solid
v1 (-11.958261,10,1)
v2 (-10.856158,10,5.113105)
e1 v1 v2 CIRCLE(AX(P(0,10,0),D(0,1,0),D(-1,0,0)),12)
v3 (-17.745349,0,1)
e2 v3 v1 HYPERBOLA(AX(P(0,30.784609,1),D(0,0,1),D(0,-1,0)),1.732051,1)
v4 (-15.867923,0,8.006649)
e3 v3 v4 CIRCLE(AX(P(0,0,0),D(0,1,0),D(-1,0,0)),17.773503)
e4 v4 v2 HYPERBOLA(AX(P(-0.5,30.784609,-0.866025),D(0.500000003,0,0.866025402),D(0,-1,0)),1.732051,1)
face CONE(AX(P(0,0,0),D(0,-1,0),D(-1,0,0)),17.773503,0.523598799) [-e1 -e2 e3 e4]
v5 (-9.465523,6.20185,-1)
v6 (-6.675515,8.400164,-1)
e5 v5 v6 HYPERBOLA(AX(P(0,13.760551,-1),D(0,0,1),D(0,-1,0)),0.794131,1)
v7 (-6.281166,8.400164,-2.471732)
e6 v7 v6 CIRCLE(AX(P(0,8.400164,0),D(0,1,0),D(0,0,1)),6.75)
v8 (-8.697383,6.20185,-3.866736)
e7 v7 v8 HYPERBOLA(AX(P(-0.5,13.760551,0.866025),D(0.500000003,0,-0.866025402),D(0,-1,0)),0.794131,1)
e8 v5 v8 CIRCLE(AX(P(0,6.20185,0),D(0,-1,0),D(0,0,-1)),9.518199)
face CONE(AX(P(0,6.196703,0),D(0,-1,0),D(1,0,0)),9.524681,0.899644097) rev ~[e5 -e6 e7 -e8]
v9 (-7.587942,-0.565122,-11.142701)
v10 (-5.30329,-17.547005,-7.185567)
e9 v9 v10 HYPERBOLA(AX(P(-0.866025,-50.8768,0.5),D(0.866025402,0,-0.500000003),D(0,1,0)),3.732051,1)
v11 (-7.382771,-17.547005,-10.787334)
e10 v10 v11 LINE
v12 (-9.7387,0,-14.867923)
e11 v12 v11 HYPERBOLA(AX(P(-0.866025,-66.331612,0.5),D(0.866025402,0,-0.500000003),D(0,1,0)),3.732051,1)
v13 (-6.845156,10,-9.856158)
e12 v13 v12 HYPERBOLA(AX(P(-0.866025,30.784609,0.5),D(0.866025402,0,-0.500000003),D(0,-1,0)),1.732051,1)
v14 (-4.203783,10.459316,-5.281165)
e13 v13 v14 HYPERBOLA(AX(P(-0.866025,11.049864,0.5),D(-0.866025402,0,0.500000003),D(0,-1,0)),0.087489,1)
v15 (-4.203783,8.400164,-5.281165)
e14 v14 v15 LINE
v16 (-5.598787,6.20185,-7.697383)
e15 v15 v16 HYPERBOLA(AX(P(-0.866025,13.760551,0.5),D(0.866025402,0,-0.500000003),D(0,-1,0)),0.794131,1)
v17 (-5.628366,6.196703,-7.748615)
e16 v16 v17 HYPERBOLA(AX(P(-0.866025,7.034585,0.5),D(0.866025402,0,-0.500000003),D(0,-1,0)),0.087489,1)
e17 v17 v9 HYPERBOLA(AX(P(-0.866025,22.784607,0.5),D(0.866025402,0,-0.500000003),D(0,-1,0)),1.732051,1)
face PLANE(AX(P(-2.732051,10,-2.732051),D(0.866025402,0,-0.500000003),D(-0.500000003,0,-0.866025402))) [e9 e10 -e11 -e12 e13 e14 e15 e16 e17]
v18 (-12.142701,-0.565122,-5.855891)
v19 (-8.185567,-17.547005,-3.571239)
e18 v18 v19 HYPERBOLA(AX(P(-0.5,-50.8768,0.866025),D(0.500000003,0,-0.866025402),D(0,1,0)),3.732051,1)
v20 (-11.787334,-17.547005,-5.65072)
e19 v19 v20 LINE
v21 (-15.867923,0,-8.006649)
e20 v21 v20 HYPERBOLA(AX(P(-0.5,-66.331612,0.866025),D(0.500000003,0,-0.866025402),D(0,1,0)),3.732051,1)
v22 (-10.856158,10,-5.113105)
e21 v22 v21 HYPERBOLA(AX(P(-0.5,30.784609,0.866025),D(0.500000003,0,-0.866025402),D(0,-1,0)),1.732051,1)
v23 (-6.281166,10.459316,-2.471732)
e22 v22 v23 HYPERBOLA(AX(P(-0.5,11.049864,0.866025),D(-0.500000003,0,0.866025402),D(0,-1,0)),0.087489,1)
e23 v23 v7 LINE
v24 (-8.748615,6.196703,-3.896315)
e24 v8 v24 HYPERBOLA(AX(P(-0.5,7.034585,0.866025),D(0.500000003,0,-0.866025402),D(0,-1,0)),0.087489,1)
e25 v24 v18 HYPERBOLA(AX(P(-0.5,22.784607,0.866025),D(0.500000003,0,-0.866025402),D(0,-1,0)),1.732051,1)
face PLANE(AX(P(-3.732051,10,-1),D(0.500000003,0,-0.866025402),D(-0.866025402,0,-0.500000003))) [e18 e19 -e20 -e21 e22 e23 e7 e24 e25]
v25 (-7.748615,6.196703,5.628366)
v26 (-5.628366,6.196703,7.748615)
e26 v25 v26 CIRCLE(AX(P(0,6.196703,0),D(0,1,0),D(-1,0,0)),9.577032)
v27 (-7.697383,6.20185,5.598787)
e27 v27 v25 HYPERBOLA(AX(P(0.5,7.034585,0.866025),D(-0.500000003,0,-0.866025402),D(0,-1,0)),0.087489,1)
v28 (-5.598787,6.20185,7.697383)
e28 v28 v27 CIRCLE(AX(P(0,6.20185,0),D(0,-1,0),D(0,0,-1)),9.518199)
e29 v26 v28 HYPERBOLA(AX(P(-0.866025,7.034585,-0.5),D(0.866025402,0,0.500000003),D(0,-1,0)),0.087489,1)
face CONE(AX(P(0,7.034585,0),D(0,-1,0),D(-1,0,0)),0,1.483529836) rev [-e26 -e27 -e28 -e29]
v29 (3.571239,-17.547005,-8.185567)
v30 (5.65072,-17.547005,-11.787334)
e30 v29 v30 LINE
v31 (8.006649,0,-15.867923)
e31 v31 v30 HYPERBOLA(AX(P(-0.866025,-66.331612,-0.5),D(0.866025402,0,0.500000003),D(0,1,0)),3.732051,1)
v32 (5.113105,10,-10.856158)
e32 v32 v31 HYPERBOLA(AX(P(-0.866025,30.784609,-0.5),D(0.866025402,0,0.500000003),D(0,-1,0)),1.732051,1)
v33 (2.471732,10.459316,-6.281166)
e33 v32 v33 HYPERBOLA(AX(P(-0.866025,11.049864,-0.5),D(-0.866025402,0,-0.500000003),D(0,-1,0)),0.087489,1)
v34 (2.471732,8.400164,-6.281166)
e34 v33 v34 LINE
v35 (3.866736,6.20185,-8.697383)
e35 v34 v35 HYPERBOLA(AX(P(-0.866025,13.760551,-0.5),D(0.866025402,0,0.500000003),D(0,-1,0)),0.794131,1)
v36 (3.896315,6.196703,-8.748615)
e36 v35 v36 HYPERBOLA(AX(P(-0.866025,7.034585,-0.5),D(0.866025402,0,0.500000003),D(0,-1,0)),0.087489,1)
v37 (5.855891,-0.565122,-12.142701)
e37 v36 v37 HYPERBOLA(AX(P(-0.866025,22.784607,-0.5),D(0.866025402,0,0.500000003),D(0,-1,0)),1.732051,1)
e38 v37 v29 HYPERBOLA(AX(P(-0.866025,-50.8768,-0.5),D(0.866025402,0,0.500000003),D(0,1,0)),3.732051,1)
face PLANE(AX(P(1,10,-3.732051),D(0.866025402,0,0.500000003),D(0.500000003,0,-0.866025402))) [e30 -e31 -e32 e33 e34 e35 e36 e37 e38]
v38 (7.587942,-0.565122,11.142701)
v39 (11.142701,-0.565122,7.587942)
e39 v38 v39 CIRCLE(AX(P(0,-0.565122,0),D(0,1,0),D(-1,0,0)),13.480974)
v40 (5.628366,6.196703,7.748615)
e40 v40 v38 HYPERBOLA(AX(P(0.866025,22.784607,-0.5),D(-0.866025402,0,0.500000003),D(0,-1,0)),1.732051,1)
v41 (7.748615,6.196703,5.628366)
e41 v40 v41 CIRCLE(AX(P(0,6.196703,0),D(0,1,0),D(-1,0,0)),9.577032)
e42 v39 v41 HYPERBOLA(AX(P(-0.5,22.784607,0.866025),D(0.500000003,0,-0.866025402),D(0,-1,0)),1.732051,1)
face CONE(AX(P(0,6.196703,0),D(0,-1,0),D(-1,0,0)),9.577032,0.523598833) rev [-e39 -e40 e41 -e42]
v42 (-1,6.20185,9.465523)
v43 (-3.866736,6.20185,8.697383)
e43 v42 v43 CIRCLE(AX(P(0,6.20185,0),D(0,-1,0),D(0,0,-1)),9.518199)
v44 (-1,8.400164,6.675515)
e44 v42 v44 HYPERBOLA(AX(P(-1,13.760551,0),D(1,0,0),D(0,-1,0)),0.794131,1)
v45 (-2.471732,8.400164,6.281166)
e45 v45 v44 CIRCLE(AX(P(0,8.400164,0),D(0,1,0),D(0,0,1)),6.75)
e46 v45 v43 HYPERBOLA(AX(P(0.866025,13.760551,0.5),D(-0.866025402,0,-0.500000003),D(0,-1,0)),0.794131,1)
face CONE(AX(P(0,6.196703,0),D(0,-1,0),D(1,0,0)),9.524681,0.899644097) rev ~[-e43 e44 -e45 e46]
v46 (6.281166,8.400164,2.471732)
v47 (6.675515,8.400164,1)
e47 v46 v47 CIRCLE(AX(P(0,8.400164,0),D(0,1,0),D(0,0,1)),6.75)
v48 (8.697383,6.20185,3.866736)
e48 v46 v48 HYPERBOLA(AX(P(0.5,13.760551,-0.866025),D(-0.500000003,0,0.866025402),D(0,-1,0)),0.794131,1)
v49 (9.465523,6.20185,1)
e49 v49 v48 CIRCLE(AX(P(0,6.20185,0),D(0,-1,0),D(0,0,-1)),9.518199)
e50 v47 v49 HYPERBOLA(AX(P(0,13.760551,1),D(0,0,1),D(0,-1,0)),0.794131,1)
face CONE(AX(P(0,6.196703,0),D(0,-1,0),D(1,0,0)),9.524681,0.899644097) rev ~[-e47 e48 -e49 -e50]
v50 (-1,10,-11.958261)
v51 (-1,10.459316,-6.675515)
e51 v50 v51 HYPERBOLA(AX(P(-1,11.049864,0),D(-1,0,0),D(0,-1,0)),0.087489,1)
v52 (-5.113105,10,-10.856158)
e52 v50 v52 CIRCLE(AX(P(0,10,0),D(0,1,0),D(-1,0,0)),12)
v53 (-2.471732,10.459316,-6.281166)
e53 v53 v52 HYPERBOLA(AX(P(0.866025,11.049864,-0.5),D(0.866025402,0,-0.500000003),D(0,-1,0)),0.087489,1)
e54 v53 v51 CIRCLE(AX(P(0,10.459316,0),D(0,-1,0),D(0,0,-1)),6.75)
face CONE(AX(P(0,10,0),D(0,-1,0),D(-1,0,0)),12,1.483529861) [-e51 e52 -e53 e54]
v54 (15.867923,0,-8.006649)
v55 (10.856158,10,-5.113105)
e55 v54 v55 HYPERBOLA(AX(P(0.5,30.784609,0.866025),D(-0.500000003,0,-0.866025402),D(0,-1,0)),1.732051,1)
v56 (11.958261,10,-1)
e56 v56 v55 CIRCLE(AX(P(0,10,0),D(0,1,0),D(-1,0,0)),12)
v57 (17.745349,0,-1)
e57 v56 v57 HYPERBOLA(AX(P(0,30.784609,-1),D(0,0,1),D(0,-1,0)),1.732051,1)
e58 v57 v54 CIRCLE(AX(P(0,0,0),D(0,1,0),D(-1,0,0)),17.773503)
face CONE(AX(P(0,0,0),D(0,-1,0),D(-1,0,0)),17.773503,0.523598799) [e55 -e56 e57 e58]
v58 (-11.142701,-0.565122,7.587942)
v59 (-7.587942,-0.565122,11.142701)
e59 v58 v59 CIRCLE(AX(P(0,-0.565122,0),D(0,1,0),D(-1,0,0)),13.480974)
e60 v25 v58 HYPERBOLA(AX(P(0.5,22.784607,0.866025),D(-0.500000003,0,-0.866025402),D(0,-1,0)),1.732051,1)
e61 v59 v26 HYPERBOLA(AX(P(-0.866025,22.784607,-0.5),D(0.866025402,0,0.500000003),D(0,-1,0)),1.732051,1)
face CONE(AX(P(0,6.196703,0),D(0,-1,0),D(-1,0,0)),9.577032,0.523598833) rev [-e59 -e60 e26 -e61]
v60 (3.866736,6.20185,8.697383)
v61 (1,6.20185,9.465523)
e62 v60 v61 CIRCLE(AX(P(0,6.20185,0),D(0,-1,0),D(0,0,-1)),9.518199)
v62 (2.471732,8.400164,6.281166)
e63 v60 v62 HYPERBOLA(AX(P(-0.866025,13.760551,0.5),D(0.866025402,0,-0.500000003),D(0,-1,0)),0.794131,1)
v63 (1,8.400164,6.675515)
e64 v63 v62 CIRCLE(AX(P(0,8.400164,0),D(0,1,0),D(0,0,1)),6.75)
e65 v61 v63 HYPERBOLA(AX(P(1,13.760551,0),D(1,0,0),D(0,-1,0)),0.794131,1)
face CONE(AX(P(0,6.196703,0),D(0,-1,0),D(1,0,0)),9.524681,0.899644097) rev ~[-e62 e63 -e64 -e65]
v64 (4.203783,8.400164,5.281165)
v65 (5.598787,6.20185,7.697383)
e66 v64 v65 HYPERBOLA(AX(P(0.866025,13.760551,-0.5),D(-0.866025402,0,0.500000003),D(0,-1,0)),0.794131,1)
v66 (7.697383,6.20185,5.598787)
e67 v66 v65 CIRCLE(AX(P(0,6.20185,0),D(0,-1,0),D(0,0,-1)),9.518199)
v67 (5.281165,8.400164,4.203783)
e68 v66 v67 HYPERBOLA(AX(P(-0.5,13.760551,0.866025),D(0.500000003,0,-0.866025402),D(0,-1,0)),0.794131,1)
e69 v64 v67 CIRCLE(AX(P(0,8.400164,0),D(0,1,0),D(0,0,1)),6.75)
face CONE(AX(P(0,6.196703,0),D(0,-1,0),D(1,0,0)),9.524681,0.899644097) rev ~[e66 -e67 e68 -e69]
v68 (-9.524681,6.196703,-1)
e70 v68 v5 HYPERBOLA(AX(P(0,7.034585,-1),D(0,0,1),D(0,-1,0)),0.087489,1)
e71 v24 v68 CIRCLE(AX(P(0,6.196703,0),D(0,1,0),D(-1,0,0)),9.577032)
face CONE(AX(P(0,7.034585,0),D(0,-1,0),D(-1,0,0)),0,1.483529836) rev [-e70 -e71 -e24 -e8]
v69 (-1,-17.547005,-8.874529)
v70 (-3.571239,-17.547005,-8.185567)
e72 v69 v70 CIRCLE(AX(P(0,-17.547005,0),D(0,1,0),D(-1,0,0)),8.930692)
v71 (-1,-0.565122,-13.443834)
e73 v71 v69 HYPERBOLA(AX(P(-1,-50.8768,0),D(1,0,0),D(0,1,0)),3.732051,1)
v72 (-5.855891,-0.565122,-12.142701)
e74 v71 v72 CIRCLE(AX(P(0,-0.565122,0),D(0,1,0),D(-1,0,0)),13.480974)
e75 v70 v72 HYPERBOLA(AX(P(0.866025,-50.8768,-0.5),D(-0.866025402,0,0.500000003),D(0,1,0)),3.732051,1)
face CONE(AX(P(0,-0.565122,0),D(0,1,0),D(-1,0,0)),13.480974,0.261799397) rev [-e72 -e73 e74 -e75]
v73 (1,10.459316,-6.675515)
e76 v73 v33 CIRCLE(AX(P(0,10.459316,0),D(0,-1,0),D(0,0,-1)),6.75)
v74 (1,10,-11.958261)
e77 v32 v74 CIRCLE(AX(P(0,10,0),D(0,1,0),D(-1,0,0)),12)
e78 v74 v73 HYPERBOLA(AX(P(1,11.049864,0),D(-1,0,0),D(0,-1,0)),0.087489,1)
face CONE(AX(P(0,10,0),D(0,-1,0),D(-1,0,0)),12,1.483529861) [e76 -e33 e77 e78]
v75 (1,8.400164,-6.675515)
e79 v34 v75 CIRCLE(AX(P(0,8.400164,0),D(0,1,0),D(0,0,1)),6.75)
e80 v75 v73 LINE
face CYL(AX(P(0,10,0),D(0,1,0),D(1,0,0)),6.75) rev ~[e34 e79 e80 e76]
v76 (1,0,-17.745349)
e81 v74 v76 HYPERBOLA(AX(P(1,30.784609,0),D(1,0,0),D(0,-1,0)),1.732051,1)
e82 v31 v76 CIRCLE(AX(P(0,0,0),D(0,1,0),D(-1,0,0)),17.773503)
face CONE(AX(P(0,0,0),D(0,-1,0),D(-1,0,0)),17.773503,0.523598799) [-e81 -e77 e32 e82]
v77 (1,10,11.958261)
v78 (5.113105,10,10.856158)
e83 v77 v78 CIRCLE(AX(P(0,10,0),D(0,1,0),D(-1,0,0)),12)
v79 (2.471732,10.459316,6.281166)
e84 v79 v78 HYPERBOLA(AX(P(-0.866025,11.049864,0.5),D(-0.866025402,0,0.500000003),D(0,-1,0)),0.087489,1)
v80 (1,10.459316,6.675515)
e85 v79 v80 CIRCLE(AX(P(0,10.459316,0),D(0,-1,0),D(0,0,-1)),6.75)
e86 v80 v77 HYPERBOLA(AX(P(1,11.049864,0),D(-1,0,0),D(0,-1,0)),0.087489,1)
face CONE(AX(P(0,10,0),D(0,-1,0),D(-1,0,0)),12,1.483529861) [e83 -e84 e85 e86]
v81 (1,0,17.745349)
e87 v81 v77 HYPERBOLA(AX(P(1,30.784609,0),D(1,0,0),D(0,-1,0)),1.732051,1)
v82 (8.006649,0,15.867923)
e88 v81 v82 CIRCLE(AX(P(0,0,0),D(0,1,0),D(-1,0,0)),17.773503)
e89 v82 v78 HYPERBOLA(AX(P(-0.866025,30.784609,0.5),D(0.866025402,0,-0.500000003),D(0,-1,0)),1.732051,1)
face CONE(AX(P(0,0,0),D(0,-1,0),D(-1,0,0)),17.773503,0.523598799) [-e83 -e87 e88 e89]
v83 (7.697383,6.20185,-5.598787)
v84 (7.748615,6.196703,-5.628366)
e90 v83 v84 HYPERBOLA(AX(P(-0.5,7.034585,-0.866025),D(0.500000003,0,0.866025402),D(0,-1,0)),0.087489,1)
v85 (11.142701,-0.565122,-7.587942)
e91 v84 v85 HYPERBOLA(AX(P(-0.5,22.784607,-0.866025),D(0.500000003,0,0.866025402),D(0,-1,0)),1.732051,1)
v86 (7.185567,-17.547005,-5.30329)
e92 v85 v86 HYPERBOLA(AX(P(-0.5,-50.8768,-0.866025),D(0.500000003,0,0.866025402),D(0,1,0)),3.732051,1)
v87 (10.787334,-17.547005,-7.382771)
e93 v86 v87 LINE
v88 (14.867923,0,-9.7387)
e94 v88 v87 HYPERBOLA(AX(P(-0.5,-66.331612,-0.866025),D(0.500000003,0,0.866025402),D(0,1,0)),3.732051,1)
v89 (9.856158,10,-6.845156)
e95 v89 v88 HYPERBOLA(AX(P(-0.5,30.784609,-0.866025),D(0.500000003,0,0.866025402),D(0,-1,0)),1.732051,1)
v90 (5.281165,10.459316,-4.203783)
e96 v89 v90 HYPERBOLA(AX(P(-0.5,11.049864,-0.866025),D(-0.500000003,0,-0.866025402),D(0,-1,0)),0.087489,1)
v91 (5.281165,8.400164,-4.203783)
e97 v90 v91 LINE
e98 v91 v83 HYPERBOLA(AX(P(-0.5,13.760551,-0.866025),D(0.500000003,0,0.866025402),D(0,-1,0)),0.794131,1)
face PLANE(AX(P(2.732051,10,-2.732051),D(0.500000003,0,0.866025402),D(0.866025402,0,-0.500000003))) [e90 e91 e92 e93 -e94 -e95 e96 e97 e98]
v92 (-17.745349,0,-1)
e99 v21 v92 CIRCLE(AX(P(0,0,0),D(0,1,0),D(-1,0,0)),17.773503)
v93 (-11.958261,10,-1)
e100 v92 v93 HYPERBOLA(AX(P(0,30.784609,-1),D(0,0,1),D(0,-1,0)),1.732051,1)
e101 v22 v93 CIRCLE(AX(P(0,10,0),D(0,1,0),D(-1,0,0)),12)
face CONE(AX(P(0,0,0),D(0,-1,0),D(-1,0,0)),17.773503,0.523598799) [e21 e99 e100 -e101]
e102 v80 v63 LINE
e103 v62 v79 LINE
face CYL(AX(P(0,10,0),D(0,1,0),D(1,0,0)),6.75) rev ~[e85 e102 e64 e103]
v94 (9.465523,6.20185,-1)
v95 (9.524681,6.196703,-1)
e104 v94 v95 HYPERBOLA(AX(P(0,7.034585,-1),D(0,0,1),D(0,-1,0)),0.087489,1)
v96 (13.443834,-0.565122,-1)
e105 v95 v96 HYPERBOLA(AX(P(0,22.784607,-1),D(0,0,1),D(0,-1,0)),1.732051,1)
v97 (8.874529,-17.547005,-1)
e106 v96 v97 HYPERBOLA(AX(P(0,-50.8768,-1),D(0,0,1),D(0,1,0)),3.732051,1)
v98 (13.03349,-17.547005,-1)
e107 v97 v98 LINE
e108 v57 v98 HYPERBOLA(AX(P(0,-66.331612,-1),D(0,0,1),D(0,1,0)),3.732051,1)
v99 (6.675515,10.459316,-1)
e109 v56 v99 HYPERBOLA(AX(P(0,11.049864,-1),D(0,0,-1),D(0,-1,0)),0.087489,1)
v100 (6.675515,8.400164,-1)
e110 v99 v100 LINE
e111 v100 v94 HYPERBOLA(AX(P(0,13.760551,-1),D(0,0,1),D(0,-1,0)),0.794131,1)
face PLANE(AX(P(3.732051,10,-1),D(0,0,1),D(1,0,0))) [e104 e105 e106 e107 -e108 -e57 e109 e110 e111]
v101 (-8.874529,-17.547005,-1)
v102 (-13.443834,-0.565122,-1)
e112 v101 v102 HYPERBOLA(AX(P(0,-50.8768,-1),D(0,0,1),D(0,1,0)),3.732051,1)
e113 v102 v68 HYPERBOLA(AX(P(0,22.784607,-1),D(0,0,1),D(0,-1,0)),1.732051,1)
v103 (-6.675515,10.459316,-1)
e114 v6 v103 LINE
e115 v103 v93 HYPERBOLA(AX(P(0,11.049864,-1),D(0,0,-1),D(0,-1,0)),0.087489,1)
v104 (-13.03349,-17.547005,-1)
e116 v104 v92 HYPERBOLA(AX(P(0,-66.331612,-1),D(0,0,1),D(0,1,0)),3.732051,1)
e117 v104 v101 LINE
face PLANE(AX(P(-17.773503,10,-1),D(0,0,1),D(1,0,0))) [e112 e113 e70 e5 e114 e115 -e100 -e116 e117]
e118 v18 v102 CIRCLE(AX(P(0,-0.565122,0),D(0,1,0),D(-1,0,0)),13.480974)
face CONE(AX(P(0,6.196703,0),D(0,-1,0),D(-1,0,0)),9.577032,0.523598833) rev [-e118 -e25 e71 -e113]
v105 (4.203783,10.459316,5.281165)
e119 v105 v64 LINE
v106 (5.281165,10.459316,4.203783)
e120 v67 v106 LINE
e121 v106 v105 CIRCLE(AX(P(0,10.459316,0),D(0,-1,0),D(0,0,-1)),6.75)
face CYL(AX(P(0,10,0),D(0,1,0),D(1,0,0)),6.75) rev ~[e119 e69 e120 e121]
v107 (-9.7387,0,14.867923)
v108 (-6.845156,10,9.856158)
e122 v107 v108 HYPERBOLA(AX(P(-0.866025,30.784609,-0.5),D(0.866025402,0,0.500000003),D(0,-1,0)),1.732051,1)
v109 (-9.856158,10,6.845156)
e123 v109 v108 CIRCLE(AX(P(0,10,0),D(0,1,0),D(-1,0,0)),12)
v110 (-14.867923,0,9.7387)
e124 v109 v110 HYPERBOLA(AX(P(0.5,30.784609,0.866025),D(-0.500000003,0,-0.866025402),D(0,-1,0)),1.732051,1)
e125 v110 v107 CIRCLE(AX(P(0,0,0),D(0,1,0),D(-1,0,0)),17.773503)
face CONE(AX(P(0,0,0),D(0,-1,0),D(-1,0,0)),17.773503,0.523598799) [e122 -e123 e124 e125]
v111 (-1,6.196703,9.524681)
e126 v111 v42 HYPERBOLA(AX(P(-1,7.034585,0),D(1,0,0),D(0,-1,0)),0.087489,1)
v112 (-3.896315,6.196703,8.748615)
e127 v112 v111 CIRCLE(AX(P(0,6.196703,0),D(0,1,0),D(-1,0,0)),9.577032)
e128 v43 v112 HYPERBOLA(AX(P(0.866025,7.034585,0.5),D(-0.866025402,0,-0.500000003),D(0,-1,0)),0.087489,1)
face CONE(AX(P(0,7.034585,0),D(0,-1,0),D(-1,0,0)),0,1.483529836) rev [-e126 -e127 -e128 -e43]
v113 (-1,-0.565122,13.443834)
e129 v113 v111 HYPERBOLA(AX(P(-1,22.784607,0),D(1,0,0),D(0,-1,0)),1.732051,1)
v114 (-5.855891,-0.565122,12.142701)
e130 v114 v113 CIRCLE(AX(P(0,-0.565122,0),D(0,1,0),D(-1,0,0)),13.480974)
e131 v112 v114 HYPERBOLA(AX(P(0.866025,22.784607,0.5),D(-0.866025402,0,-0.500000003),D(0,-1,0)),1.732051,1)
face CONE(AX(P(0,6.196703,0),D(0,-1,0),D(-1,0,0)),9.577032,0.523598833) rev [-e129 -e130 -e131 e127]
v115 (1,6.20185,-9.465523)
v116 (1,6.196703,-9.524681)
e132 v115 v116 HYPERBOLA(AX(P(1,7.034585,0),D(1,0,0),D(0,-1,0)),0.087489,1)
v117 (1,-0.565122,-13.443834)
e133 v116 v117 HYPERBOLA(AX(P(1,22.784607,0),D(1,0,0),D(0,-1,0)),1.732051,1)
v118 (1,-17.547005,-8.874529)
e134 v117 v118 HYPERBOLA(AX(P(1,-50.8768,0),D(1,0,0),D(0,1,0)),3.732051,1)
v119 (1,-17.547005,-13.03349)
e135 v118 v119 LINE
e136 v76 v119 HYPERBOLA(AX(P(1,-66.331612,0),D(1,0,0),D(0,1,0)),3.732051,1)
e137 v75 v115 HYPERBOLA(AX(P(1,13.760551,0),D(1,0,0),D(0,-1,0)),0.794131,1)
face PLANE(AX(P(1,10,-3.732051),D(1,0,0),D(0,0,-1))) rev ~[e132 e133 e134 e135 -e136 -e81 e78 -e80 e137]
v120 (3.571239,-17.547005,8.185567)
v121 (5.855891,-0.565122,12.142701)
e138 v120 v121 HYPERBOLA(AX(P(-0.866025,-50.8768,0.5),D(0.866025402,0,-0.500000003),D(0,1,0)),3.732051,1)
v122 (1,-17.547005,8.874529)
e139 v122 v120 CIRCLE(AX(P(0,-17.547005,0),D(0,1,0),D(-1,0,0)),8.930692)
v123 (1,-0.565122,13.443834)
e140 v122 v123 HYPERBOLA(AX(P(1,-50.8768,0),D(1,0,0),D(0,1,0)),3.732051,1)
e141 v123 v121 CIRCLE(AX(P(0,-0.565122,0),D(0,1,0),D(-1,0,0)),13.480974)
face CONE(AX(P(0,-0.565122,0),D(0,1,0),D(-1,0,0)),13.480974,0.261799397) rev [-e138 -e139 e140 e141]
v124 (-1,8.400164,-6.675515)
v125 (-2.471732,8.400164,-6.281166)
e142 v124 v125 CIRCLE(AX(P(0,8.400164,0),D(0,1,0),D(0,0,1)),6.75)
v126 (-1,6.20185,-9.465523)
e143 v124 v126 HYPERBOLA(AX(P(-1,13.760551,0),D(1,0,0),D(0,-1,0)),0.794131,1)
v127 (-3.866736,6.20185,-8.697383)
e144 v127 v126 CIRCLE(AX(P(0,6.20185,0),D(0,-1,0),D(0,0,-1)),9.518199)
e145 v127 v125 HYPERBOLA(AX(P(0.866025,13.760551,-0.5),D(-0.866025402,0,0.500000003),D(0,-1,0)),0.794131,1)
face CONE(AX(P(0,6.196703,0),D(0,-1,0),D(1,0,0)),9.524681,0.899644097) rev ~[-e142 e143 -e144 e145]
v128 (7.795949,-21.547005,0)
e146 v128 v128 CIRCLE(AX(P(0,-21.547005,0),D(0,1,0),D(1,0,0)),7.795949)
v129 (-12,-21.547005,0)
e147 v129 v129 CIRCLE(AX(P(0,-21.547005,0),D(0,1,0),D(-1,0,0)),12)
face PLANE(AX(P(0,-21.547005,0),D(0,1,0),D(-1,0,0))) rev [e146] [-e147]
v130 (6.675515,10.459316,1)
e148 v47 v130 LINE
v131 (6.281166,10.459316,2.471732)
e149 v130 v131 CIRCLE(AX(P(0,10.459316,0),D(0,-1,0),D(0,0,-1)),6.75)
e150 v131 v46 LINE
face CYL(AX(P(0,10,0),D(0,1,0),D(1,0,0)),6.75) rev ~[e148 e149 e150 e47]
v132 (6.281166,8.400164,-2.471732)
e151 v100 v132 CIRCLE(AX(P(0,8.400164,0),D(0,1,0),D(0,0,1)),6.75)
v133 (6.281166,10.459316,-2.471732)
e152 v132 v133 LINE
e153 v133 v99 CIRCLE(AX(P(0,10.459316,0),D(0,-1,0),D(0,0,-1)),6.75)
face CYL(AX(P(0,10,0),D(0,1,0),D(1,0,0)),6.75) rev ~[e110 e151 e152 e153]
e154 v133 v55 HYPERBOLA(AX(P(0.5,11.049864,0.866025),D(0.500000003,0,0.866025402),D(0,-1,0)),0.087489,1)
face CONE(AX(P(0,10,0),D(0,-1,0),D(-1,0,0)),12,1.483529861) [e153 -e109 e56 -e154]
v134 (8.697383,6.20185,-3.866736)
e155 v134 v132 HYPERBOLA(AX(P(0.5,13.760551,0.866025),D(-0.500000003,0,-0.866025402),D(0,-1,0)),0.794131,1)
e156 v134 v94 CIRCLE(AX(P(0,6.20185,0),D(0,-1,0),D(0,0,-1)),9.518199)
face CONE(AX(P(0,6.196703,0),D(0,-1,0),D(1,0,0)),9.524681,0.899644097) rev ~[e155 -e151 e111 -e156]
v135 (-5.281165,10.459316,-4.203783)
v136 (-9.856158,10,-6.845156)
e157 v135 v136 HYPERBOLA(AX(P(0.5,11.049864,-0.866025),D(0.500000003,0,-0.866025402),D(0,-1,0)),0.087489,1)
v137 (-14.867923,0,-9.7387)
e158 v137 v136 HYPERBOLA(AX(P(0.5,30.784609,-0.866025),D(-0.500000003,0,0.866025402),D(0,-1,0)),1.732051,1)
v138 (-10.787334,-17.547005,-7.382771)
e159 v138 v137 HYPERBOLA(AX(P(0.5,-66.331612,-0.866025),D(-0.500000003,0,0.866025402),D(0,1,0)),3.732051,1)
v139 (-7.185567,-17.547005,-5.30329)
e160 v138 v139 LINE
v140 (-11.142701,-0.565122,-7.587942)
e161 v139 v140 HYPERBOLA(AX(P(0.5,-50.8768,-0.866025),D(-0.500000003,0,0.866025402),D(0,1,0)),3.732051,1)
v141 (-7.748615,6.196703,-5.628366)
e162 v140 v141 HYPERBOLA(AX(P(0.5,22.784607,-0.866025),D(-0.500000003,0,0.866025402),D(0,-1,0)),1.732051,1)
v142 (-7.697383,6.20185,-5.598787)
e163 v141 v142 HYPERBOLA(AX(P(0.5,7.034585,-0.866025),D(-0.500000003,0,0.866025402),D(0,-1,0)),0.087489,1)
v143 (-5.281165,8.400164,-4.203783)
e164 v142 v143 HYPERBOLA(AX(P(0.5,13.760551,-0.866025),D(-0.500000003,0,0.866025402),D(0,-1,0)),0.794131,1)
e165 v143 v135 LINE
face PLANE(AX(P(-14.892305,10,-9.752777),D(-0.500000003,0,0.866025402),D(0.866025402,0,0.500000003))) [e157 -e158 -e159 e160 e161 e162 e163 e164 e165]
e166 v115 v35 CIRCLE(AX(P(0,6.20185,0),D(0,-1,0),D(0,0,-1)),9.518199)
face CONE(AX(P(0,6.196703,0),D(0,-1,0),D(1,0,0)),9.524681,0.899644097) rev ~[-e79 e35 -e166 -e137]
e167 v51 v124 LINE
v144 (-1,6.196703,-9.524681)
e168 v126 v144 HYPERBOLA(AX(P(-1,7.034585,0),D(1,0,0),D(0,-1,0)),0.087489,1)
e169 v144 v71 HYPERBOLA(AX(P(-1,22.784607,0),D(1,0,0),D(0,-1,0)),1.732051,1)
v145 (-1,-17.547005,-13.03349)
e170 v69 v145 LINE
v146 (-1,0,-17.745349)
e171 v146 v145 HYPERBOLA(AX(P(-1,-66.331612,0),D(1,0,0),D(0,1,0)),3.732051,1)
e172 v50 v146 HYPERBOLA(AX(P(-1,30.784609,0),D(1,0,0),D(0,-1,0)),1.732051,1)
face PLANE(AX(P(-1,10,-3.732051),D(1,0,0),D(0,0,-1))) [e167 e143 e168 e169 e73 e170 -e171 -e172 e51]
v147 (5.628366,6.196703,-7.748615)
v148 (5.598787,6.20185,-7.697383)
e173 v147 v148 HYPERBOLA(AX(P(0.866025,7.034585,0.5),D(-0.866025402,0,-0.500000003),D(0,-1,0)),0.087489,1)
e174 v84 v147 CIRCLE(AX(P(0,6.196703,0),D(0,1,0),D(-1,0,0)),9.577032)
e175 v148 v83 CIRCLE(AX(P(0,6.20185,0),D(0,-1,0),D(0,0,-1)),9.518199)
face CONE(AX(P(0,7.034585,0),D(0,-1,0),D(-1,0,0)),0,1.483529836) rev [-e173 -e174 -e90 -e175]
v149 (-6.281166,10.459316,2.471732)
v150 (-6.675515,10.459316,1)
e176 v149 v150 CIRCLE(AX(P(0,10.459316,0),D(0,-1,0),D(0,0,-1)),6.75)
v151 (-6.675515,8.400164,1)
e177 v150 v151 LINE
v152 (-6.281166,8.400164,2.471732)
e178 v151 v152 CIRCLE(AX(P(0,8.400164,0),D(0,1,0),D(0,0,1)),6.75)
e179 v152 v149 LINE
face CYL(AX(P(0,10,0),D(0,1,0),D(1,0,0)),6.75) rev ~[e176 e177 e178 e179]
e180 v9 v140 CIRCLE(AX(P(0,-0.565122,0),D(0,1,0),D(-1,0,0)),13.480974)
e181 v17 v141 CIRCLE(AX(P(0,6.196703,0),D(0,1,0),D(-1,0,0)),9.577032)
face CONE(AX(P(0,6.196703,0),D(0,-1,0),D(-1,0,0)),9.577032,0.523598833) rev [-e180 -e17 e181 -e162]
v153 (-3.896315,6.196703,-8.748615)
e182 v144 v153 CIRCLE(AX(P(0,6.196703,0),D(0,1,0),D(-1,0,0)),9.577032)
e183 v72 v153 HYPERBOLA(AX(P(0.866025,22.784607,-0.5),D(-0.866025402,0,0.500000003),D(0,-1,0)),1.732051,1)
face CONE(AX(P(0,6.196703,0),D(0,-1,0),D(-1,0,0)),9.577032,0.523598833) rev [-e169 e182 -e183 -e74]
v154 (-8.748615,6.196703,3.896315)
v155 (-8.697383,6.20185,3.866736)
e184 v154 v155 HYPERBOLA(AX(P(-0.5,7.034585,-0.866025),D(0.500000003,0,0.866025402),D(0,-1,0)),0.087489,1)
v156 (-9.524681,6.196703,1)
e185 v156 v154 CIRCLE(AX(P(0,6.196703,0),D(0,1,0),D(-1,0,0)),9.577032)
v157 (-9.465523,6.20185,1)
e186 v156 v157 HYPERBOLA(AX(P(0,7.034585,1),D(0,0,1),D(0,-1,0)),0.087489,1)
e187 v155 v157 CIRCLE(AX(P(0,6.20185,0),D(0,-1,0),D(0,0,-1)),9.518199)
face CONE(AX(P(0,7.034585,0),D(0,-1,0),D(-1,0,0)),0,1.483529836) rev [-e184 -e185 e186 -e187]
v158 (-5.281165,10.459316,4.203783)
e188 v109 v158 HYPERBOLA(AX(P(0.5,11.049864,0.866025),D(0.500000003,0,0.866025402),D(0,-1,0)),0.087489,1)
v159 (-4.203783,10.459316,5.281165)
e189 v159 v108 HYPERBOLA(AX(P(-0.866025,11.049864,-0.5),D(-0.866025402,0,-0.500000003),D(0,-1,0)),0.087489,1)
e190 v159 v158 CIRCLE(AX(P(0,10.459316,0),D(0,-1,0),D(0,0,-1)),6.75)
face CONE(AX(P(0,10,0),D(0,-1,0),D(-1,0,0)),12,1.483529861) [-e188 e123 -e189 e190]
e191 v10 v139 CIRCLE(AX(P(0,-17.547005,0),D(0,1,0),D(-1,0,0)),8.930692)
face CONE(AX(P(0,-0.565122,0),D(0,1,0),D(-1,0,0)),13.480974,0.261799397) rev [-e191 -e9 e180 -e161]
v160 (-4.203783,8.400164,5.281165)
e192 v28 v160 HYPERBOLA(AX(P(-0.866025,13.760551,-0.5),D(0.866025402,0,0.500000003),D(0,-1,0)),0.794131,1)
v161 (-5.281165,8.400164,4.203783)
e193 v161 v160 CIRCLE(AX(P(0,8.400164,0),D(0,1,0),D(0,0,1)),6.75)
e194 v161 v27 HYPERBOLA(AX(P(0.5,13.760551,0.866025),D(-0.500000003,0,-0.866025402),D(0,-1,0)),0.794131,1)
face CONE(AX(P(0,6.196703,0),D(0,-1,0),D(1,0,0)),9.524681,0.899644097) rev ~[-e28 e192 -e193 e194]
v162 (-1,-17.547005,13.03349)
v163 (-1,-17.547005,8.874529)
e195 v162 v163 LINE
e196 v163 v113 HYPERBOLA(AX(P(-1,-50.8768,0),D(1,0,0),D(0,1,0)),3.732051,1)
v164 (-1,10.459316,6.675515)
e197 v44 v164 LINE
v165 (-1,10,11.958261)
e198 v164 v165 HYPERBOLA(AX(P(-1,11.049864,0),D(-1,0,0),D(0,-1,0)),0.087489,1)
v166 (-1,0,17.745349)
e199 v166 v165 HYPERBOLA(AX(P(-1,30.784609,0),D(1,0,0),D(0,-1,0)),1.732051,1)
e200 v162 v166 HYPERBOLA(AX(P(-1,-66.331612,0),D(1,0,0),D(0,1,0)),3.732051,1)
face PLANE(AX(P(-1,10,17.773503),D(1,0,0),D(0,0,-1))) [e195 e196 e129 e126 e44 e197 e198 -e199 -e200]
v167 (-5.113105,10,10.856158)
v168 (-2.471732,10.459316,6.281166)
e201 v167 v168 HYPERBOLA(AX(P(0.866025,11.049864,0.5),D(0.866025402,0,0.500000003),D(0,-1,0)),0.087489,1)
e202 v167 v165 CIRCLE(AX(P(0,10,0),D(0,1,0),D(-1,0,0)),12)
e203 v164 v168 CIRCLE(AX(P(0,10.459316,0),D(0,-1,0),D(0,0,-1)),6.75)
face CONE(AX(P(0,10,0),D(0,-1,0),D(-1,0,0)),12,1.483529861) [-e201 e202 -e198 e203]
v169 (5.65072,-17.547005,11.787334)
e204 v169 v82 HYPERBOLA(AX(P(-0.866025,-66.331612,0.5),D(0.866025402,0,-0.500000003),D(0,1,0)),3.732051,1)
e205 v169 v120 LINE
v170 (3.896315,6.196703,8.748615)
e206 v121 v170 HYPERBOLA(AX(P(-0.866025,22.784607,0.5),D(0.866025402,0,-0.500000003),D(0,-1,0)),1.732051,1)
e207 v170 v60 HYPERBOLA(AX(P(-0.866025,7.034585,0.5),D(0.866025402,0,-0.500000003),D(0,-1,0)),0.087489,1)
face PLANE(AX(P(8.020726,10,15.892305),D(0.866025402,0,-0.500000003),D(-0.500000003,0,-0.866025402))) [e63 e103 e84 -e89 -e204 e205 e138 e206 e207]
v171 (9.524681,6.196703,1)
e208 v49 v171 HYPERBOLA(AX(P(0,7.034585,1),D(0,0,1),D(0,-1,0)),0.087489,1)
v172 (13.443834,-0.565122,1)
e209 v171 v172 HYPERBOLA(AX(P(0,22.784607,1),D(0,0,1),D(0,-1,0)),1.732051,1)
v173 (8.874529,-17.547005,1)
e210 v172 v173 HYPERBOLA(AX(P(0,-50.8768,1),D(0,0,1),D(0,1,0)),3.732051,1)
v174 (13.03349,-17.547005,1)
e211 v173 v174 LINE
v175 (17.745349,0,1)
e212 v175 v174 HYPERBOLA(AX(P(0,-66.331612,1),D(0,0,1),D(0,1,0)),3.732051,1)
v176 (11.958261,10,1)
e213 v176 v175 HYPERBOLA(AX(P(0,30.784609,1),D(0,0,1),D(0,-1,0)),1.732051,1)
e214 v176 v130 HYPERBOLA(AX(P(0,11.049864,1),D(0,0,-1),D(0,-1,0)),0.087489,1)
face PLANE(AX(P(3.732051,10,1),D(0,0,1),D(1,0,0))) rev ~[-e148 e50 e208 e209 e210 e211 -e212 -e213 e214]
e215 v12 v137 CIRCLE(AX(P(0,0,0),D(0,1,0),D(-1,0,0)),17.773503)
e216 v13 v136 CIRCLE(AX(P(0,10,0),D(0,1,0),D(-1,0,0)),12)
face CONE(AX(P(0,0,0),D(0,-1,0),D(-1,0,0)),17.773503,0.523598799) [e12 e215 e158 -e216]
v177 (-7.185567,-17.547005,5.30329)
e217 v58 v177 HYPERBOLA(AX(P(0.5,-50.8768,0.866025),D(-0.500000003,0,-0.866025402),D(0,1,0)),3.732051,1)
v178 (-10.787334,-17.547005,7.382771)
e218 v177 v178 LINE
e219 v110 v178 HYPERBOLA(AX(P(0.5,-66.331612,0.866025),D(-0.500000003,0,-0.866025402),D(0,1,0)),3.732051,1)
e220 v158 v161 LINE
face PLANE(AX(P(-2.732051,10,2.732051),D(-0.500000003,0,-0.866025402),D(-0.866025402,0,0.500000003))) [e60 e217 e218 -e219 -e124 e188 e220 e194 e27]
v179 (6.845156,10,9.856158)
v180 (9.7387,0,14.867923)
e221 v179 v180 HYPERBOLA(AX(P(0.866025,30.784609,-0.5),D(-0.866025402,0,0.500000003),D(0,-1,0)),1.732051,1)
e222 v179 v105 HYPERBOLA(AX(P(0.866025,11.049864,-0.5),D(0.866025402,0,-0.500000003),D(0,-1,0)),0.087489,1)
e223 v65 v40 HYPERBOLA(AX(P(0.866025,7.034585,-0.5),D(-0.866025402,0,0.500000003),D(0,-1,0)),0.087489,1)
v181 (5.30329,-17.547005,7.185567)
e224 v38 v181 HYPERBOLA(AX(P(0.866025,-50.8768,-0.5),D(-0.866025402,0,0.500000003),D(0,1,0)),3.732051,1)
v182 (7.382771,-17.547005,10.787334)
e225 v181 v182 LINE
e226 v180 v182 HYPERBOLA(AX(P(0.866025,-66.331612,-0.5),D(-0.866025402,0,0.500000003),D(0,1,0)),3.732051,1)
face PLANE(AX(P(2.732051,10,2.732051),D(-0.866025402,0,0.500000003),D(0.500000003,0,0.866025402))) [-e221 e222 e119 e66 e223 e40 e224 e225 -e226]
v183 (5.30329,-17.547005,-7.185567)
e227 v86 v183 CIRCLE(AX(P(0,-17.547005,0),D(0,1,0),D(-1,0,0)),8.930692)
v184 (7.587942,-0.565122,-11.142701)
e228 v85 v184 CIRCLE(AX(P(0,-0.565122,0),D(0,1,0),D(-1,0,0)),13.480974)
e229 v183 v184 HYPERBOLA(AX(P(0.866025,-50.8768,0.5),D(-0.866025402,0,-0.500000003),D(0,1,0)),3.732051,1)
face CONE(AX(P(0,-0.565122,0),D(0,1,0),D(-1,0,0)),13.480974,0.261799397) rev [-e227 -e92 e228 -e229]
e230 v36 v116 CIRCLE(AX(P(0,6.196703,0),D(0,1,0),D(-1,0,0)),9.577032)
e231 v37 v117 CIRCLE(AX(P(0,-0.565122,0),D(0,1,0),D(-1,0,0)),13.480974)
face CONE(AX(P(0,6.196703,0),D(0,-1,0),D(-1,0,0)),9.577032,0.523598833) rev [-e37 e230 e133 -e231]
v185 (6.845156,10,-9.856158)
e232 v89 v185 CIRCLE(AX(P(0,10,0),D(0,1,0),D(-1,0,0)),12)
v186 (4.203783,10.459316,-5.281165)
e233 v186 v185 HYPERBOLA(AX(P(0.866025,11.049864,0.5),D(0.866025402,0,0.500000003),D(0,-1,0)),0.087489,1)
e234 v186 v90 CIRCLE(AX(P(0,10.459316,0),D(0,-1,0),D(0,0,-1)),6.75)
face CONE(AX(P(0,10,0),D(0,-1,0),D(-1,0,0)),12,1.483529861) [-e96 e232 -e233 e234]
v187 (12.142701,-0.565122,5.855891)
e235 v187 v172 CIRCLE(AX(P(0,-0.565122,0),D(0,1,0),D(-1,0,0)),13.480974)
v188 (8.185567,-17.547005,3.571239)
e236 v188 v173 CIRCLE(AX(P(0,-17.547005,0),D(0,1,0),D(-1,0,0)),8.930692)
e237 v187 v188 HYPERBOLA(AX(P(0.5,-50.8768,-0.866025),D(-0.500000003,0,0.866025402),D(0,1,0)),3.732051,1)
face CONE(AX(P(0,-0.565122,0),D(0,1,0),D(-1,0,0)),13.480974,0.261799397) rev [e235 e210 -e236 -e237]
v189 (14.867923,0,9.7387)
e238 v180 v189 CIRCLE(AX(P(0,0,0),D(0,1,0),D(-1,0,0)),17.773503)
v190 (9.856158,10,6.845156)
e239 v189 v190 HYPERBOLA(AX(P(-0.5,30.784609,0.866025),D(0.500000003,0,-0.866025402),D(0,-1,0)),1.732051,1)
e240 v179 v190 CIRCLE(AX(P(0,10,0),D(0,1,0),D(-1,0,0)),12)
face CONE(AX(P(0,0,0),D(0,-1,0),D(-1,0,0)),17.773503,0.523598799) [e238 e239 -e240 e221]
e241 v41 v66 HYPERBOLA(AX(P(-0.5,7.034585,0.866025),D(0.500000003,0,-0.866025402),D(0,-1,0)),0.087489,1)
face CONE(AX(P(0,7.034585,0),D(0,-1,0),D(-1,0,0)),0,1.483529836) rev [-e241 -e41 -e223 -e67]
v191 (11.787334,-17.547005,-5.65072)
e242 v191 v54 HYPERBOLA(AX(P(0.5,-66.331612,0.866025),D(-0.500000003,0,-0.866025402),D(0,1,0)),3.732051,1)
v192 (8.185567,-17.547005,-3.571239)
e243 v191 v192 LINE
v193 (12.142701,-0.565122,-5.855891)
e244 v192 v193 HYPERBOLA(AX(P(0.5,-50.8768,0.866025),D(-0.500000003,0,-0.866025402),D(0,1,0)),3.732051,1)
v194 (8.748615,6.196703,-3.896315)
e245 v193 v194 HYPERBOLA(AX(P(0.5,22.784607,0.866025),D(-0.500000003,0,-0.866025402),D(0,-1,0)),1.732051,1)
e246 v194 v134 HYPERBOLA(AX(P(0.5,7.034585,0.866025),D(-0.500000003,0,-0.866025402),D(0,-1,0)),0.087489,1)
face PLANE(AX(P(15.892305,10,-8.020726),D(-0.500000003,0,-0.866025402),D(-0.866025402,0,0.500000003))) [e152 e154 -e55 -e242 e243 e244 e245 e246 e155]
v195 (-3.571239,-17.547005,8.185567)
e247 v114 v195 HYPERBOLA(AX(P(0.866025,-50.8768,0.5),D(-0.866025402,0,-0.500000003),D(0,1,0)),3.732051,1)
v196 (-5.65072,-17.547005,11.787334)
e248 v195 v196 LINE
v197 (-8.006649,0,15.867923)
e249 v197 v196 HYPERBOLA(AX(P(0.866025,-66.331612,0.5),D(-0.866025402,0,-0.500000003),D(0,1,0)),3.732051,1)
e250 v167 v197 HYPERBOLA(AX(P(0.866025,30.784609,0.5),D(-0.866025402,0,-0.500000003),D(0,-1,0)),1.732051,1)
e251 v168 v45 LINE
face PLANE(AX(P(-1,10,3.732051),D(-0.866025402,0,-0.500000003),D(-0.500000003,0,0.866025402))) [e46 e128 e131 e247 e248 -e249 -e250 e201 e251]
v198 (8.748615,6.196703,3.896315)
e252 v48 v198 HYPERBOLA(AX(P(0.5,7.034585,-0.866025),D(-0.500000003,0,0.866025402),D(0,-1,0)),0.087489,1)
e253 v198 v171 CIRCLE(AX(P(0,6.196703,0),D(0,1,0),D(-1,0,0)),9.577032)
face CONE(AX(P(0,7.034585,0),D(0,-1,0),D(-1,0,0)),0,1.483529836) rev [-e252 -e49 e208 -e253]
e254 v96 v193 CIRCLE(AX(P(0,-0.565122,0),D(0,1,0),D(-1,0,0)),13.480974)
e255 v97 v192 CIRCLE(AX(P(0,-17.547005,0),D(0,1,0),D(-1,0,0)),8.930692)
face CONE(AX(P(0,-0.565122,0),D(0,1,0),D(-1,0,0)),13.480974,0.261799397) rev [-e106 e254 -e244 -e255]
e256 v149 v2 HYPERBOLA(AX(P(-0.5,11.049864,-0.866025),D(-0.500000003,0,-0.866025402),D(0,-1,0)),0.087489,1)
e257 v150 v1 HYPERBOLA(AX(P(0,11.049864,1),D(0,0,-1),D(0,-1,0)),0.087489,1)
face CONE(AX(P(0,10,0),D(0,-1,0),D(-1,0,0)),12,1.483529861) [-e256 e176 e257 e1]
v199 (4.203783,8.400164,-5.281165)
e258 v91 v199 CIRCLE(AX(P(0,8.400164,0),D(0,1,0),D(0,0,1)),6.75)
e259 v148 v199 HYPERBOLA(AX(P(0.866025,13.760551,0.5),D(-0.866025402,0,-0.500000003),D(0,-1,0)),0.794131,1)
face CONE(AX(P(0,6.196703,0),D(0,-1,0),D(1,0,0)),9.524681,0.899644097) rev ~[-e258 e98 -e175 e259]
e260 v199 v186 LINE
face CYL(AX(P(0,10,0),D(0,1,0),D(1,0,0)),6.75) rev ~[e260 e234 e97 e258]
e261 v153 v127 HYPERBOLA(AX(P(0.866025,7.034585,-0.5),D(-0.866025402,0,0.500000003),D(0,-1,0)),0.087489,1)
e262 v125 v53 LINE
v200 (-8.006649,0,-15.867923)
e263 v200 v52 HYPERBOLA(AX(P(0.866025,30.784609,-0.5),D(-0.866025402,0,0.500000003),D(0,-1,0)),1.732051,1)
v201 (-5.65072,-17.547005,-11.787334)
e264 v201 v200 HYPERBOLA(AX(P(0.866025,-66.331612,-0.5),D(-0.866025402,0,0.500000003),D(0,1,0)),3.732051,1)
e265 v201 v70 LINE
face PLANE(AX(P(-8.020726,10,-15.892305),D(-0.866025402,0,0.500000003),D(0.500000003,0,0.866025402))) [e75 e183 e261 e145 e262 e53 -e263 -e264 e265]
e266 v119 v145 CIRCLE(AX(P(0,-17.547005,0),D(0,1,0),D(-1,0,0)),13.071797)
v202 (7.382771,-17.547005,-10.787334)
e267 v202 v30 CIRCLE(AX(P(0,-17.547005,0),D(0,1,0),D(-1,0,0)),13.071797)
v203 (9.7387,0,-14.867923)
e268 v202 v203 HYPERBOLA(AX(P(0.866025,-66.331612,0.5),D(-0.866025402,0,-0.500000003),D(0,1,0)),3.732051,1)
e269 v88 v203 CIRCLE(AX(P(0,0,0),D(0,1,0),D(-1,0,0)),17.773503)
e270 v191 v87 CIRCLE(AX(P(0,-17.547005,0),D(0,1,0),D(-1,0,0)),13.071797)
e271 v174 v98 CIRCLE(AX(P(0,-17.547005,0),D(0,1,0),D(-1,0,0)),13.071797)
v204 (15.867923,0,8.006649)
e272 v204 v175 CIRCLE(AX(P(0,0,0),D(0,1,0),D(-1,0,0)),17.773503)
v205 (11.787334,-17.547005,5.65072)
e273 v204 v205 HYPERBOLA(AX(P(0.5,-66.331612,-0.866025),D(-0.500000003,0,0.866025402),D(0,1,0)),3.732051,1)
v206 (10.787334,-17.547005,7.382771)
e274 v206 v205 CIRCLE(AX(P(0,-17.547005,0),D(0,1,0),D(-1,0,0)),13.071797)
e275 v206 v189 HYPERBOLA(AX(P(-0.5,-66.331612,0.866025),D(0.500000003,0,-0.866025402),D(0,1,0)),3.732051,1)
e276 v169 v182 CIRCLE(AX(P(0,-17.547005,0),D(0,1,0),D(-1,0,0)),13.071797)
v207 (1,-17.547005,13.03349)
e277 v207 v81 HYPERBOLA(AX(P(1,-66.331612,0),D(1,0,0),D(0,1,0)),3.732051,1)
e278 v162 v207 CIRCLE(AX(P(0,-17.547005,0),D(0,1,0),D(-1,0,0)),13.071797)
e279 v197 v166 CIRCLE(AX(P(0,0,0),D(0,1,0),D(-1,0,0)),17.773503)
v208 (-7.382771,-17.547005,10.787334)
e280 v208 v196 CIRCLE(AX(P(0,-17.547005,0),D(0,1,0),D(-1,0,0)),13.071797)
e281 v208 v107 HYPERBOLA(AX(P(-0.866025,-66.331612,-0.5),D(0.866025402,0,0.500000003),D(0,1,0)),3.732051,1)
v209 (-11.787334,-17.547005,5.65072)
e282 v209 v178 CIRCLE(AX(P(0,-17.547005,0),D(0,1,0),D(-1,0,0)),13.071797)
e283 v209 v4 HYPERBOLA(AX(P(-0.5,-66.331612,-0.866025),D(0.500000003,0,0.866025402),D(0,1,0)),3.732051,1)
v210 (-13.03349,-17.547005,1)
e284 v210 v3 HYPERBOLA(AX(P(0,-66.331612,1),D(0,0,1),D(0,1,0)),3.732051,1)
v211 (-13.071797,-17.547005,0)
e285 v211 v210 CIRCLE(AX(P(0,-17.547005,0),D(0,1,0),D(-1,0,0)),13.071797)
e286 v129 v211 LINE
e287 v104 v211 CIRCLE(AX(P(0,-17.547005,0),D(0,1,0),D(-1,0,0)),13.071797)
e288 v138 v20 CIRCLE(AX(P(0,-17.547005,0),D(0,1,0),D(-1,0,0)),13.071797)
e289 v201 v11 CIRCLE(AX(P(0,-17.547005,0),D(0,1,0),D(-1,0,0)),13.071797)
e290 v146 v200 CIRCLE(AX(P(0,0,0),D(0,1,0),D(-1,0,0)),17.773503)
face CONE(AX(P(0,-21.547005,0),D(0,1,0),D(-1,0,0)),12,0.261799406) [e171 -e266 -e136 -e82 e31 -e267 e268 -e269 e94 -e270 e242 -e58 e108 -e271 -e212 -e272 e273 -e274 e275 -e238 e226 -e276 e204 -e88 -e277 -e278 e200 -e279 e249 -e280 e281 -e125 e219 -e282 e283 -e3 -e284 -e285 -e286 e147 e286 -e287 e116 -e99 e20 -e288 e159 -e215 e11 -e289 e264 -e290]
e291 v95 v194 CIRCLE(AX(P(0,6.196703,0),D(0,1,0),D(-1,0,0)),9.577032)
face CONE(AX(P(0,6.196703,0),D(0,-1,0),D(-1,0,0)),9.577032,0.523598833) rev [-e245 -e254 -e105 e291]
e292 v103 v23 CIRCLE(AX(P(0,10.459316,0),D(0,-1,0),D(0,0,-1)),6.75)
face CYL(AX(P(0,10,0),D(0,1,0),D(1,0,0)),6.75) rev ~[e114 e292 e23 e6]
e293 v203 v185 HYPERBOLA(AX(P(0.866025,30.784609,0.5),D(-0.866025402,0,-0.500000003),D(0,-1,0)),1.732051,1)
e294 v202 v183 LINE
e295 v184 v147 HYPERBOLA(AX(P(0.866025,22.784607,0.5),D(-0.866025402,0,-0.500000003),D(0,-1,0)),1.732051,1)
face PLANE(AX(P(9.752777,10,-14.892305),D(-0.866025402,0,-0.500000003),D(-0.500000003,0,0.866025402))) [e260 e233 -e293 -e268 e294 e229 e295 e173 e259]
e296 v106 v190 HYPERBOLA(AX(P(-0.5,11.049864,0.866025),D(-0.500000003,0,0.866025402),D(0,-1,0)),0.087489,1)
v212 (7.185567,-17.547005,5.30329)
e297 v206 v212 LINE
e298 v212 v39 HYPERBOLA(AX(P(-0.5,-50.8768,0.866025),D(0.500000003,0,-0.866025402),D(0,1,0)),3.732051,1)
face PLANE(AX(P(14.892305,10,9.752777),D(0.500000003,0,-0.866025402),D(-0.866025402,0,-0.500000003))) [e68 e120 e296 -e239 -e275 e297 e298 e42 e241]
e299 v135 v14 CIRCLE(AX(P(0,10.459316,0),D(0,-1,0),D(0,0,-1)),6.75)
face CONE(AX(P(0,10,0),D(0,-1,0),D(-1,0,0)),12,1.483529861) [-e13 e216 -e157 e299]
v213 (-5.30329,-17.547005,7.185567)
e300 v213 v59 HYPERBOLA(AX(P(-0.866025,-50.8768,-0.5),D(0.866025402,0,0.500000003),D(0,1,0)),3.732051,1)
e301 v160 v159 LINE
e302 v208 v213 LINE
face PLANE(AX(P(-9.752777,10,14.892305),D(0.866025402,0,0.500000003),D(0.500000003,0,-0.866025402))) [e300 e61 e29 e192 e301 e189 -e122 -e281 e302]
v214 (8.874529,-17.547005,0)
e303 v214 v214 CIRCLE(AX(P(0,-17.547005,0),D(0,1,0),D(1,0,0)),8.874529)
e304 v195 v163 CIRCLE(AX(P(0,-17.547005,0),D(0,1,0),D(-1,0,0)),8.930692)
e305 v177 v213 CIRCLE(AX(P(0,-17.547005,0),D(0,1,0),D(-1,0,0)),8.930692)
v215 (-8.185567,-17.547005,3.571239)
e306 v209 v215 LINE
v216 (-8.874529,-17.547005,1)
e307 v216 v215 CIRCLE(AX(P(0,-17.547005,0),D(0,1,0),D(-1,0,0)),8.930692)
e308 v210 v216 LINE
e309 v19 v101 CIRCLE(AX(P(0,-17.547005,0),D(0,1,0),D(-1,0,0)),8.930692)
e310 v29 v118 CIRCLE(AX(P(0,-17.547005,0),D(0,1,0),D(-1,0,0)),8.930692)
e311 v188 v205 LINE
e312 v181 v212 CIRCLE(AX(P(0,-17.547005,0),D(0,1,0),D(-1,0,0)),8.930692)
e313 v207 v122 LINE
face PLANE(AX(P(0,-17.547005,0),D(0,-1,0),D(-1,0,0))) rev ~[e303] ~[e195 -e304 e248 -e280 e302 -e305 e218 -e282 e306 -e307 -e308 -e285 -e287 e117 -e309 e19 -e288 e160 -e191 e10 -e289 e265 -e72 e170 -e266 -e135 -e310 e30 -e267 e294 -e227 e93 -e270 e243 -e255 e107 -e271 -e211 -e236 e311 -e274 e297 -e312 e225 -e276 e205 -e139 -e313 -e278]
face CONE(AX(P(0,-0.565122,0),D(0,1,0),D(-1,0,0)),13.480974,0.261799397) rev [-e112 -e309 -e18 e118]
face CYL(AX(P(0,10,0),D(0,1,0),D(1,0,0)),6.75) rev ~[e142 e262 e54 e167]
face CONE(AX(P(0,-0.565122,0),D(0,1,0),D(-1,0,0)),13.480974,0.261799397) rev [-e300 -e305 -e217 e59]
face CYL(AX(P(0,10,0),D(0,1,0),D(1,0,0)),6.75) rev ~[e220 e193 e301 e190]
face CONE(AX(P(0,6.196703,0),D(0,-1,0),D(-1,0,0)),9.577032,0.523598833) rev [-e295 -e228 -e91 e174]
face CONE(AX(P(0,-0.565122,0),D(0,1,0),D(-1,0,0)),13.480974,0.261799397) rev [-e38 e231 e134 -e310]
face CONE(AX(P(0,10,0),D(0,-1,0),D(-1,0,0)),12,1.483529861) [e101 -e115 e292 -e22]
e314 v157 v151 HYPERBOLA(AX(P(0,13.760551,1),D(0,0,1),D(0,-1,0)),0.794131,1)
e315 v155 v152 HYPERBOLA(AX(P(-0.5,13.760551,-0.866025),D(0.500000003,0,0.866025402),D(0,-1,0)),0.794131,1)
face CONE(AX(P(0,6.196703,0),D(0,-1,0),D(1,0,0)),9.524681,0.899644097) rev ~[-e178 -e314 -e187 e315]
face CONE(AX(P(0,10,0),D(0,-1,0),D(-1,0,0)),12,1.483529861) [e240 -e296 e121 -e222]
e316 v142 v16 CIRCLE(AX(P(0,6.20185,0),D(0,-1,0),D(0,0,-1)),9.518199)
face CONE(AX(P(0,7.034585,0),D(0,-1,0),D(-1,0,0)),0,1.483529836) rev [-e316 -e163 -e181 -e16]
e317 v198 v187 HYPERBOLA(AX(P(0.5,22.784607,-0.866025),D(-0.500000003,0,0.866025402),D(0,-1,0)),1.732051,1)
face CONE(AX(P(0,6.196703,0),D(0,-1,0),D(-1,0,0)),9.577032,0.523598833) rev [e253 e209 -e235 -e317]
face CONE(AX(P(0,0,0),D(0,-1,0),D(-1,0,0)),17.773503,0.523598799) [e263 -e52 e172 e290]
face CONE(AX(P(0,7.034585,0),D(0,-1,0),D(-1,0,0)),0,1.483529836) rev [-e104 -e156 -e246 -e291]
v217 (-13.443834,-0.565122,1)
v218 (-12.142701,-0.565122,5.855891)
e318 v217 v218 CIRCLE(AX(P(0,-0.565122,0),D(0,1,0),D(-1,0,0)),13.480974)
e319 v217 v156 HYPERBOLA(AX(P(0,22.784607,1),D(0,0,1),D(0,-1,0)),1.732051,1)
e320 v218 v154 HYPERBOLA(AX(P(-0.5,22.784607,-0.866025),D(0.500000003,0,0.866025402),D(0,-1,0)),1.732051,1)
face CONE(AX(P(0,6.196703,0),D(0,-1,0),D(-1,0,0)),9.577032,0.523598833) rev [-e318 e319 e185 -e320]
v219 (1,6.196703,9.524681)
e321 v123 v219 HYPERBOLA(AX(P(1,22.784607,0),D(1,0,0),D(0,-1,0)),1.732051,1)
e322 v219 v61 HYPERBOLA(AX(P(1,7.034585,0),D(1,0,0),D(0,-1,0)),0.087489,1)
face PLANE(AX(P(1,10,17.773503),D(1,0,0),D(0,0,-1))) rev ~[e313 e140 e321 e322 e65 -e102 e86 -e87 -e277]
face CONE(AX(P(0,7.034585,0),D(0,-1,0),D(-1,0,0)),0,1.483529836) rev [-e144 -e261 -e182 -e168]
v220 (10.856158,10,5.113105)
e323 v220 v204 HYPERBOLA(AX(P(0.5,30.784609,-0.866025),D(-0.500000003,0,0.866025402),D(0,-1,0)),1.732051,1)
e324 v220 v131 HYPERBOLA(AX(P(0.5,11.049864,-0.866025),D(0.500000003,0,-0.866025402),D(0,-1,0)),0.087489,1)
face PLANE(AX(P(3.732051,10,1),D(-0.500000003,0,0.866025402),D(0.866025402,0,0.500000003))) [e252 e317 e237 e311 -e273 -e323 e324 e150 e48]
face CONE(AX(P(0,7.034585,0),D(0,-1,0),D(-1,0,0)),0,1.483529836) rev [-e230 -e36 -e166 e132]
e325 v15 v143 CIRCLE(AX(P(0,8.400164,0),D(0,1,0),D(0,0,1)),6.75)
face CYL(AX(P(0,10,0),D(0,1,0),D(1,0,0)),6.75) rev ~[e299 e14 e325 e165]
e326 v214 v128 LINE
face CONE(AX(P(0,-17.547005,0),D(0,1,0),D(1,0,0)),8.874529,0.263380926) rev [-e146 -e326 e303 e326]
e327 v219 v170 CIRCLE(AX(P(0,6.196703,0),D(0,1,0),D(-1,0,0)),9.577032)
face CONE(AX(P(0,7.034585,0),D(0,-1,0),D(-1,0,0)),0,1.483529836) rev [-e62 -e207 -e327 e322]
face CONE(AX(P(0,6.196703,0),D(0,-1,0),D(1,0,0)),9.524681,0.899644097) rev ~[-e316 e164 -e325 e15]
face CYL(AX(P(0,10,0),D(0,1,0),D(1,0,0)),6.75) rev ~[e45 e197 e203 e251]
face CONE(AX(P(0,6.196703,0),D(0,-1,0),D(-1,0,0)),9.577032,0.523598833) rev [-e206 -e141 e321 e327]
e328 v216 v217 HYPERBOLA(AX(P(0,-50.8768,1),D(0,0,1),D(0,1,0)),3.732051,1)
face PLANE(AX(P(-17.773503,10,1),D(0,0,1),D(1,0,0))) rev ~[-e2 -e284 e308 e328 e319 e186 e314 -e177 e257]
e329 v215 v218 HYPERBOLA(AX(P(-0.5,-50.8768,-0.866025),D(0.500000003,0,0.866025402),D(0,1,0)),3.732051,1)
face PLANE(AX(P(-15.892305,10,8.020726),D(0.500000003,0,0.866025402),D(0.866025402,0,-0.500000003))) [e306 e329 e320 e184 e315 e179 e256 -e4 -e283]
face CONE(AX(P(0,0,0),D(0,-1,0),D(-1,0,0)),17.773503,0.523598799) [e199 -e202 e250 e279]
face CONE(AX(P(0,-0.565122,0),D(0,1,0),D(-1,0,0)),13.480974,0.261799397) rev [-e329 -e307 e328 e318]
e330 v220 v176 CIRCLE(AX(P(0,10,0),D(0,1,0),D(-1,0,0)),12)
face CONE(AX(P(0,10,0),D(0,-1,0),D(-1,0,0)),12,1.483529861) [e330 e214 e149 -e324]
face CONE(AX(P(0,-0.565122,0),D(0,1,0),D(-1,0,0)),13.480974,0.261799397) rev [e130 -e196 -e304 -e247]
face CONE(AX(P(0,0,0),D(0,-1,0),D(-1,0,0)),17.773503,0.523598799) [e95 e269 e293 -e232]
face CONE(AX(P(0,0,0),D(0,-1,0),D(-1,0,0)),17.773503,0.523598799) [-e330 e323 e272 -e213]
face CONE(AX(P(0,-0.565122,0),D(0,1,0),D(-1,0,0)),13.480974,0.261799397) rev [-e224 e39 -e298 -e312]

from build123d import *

# Parameters (mm, degrees)
SKETCH_6_R               = 6.75
CUT_EXTRUDE_3_DEPTH      = 2.049864
CUT_EXTRUDE_3_DEPTH_BACK = 32.547005
SKETCH_8_W               = 2
SKETCH_8_H               = 35.547006
SKETCH_8_W_2             = 35.547006
SKETCH_8_H_2             = 2
CUT_EXTRUDE_4_DEPTH      = 1.459315
CUT_EXTRUDE_4_DEPTH_BACK = 27.547005


with BuildPart() as part:
    # 草图2 → 旋转1 (revolve)
    with BuildSketch(Plane.XY):
        Polygon((0, 11.049864), (0, 10), (-12, 10), align=None)
        Polygon((0, 10), (0, -21.547005), (-12, -21.547005), (-17.773503, 0), (-12, 10), align=None)
    revolve(axis=Axis((0, -736.81226, 0), (0, 1, 0)))

    # 草图7 one side → 切除-旋转2 (revolve, cut)
    with BuildSketch(Plane.XY):
        Polygon((0, -17.547005), (0, 7.034585), (-9.577032, 6.196703), (-13.480974, -0.565122), (-8.930692, -17.547005), align=None)
    revolve(axis=Axis((0, -1000, 0), (0, 1, 0)), mode=Mode.SUBTRACT)

    # 草图6 → 切除-拉伸3 (cut, two sides)
    with BuildSketch(Plane(origin=(0, 10, 0), x_dir=(1, 0, 0), z_dir=(0, 1, 0))) as cut_extrude_3_sk:
        Circle(SKETCH_6_R)
    extrude(amount=CUT_EXTRUDE_3_DEPTH, mode=Mode.SUBTRACT)
    extrude(cut_extrude_3_sk.sketch, amount=-CUT_EXTRUDE_3_DEPTH_BACK, mode=Mode.SUBTRACT)

    # 草图8 → 切除-拉伸4 (cut, two sides)
    with BuildSketch(Plane(origin=(0, 10, 0), x_dir=(1, 0, 0), z_dir=(0, 1, 0))) as cut_extrude_4_sk:
        Polygon((9.752777, 14.892305), (-8.020726, -15.892305), (-9.752777, -14.892305), (8.020726, 15.892305), align=None)
        Rectangle(SKETCH_8_W, SKETCH_8_H)
        Polygon((15.892305, 8.020726), (-14.892305, -9.752777), (-15.892305, -8.020726), (14.892305, 9.752777), align=None)
        Rectangle(SKETCH_8_W_2, SKETCH_8_H_2)
        Polygon((14.892305, -9.752777), (-15.892305, 8.020726), (-14.892305, 9.752777), (15.892305, -8.020726), align=None)
        Polygon((8.020726, -15.892305), (-9.752777, 14.892305), (-8.020726, 15.892305), (9.752777, -14.892305), align=None)
    extrude(amount=CUT_EXTRUDE_4_DEPTH, mode=Mode.SUBTRACT)
    extrude(cut_extrude_4_sk.sketch, amount=-CUT_EXTRUDE_4_DEPTH_BACK, mode=Mode.SUBTRACT)

    # 草图10 → 切除-旋转3 (revolve, cut)
    with BuildSketch(Plane.XY):
        with BuildLine():
            Line((6.675515, 8.459315), (6.675515, 6.444036))
            add(Edge.make_bspline(
                [(9.524681, 6.196703), (8.574975, 6.279337), (7.625259, 6.361861), (6.675515, 6.444036)],
                knots=[0, 0, 0, 0, 1, 1, 1, 1], degree=3))
            Line((9.524681, 6.196703), (6.675515, 8.459315))
        make_face()
    revolve(axis=Axis((0, -1000, 0), (0, 1, 0)), mode=Mode.SUBTRACT)

    # 草图11 → 切除-旋转4 (revolve, cut)
    with BuildSketch(Plane.XY):
        Polygon((6.75, -21.547005), (6.75, -17.547005), (8.874529, -17.547005), (7.795949, -21.547005), align=None)
    revolve(axis=Axis((0, -1000, 0), (0, 1, 0)), mode=Mode.SUBTRACT)


solid = part.part
